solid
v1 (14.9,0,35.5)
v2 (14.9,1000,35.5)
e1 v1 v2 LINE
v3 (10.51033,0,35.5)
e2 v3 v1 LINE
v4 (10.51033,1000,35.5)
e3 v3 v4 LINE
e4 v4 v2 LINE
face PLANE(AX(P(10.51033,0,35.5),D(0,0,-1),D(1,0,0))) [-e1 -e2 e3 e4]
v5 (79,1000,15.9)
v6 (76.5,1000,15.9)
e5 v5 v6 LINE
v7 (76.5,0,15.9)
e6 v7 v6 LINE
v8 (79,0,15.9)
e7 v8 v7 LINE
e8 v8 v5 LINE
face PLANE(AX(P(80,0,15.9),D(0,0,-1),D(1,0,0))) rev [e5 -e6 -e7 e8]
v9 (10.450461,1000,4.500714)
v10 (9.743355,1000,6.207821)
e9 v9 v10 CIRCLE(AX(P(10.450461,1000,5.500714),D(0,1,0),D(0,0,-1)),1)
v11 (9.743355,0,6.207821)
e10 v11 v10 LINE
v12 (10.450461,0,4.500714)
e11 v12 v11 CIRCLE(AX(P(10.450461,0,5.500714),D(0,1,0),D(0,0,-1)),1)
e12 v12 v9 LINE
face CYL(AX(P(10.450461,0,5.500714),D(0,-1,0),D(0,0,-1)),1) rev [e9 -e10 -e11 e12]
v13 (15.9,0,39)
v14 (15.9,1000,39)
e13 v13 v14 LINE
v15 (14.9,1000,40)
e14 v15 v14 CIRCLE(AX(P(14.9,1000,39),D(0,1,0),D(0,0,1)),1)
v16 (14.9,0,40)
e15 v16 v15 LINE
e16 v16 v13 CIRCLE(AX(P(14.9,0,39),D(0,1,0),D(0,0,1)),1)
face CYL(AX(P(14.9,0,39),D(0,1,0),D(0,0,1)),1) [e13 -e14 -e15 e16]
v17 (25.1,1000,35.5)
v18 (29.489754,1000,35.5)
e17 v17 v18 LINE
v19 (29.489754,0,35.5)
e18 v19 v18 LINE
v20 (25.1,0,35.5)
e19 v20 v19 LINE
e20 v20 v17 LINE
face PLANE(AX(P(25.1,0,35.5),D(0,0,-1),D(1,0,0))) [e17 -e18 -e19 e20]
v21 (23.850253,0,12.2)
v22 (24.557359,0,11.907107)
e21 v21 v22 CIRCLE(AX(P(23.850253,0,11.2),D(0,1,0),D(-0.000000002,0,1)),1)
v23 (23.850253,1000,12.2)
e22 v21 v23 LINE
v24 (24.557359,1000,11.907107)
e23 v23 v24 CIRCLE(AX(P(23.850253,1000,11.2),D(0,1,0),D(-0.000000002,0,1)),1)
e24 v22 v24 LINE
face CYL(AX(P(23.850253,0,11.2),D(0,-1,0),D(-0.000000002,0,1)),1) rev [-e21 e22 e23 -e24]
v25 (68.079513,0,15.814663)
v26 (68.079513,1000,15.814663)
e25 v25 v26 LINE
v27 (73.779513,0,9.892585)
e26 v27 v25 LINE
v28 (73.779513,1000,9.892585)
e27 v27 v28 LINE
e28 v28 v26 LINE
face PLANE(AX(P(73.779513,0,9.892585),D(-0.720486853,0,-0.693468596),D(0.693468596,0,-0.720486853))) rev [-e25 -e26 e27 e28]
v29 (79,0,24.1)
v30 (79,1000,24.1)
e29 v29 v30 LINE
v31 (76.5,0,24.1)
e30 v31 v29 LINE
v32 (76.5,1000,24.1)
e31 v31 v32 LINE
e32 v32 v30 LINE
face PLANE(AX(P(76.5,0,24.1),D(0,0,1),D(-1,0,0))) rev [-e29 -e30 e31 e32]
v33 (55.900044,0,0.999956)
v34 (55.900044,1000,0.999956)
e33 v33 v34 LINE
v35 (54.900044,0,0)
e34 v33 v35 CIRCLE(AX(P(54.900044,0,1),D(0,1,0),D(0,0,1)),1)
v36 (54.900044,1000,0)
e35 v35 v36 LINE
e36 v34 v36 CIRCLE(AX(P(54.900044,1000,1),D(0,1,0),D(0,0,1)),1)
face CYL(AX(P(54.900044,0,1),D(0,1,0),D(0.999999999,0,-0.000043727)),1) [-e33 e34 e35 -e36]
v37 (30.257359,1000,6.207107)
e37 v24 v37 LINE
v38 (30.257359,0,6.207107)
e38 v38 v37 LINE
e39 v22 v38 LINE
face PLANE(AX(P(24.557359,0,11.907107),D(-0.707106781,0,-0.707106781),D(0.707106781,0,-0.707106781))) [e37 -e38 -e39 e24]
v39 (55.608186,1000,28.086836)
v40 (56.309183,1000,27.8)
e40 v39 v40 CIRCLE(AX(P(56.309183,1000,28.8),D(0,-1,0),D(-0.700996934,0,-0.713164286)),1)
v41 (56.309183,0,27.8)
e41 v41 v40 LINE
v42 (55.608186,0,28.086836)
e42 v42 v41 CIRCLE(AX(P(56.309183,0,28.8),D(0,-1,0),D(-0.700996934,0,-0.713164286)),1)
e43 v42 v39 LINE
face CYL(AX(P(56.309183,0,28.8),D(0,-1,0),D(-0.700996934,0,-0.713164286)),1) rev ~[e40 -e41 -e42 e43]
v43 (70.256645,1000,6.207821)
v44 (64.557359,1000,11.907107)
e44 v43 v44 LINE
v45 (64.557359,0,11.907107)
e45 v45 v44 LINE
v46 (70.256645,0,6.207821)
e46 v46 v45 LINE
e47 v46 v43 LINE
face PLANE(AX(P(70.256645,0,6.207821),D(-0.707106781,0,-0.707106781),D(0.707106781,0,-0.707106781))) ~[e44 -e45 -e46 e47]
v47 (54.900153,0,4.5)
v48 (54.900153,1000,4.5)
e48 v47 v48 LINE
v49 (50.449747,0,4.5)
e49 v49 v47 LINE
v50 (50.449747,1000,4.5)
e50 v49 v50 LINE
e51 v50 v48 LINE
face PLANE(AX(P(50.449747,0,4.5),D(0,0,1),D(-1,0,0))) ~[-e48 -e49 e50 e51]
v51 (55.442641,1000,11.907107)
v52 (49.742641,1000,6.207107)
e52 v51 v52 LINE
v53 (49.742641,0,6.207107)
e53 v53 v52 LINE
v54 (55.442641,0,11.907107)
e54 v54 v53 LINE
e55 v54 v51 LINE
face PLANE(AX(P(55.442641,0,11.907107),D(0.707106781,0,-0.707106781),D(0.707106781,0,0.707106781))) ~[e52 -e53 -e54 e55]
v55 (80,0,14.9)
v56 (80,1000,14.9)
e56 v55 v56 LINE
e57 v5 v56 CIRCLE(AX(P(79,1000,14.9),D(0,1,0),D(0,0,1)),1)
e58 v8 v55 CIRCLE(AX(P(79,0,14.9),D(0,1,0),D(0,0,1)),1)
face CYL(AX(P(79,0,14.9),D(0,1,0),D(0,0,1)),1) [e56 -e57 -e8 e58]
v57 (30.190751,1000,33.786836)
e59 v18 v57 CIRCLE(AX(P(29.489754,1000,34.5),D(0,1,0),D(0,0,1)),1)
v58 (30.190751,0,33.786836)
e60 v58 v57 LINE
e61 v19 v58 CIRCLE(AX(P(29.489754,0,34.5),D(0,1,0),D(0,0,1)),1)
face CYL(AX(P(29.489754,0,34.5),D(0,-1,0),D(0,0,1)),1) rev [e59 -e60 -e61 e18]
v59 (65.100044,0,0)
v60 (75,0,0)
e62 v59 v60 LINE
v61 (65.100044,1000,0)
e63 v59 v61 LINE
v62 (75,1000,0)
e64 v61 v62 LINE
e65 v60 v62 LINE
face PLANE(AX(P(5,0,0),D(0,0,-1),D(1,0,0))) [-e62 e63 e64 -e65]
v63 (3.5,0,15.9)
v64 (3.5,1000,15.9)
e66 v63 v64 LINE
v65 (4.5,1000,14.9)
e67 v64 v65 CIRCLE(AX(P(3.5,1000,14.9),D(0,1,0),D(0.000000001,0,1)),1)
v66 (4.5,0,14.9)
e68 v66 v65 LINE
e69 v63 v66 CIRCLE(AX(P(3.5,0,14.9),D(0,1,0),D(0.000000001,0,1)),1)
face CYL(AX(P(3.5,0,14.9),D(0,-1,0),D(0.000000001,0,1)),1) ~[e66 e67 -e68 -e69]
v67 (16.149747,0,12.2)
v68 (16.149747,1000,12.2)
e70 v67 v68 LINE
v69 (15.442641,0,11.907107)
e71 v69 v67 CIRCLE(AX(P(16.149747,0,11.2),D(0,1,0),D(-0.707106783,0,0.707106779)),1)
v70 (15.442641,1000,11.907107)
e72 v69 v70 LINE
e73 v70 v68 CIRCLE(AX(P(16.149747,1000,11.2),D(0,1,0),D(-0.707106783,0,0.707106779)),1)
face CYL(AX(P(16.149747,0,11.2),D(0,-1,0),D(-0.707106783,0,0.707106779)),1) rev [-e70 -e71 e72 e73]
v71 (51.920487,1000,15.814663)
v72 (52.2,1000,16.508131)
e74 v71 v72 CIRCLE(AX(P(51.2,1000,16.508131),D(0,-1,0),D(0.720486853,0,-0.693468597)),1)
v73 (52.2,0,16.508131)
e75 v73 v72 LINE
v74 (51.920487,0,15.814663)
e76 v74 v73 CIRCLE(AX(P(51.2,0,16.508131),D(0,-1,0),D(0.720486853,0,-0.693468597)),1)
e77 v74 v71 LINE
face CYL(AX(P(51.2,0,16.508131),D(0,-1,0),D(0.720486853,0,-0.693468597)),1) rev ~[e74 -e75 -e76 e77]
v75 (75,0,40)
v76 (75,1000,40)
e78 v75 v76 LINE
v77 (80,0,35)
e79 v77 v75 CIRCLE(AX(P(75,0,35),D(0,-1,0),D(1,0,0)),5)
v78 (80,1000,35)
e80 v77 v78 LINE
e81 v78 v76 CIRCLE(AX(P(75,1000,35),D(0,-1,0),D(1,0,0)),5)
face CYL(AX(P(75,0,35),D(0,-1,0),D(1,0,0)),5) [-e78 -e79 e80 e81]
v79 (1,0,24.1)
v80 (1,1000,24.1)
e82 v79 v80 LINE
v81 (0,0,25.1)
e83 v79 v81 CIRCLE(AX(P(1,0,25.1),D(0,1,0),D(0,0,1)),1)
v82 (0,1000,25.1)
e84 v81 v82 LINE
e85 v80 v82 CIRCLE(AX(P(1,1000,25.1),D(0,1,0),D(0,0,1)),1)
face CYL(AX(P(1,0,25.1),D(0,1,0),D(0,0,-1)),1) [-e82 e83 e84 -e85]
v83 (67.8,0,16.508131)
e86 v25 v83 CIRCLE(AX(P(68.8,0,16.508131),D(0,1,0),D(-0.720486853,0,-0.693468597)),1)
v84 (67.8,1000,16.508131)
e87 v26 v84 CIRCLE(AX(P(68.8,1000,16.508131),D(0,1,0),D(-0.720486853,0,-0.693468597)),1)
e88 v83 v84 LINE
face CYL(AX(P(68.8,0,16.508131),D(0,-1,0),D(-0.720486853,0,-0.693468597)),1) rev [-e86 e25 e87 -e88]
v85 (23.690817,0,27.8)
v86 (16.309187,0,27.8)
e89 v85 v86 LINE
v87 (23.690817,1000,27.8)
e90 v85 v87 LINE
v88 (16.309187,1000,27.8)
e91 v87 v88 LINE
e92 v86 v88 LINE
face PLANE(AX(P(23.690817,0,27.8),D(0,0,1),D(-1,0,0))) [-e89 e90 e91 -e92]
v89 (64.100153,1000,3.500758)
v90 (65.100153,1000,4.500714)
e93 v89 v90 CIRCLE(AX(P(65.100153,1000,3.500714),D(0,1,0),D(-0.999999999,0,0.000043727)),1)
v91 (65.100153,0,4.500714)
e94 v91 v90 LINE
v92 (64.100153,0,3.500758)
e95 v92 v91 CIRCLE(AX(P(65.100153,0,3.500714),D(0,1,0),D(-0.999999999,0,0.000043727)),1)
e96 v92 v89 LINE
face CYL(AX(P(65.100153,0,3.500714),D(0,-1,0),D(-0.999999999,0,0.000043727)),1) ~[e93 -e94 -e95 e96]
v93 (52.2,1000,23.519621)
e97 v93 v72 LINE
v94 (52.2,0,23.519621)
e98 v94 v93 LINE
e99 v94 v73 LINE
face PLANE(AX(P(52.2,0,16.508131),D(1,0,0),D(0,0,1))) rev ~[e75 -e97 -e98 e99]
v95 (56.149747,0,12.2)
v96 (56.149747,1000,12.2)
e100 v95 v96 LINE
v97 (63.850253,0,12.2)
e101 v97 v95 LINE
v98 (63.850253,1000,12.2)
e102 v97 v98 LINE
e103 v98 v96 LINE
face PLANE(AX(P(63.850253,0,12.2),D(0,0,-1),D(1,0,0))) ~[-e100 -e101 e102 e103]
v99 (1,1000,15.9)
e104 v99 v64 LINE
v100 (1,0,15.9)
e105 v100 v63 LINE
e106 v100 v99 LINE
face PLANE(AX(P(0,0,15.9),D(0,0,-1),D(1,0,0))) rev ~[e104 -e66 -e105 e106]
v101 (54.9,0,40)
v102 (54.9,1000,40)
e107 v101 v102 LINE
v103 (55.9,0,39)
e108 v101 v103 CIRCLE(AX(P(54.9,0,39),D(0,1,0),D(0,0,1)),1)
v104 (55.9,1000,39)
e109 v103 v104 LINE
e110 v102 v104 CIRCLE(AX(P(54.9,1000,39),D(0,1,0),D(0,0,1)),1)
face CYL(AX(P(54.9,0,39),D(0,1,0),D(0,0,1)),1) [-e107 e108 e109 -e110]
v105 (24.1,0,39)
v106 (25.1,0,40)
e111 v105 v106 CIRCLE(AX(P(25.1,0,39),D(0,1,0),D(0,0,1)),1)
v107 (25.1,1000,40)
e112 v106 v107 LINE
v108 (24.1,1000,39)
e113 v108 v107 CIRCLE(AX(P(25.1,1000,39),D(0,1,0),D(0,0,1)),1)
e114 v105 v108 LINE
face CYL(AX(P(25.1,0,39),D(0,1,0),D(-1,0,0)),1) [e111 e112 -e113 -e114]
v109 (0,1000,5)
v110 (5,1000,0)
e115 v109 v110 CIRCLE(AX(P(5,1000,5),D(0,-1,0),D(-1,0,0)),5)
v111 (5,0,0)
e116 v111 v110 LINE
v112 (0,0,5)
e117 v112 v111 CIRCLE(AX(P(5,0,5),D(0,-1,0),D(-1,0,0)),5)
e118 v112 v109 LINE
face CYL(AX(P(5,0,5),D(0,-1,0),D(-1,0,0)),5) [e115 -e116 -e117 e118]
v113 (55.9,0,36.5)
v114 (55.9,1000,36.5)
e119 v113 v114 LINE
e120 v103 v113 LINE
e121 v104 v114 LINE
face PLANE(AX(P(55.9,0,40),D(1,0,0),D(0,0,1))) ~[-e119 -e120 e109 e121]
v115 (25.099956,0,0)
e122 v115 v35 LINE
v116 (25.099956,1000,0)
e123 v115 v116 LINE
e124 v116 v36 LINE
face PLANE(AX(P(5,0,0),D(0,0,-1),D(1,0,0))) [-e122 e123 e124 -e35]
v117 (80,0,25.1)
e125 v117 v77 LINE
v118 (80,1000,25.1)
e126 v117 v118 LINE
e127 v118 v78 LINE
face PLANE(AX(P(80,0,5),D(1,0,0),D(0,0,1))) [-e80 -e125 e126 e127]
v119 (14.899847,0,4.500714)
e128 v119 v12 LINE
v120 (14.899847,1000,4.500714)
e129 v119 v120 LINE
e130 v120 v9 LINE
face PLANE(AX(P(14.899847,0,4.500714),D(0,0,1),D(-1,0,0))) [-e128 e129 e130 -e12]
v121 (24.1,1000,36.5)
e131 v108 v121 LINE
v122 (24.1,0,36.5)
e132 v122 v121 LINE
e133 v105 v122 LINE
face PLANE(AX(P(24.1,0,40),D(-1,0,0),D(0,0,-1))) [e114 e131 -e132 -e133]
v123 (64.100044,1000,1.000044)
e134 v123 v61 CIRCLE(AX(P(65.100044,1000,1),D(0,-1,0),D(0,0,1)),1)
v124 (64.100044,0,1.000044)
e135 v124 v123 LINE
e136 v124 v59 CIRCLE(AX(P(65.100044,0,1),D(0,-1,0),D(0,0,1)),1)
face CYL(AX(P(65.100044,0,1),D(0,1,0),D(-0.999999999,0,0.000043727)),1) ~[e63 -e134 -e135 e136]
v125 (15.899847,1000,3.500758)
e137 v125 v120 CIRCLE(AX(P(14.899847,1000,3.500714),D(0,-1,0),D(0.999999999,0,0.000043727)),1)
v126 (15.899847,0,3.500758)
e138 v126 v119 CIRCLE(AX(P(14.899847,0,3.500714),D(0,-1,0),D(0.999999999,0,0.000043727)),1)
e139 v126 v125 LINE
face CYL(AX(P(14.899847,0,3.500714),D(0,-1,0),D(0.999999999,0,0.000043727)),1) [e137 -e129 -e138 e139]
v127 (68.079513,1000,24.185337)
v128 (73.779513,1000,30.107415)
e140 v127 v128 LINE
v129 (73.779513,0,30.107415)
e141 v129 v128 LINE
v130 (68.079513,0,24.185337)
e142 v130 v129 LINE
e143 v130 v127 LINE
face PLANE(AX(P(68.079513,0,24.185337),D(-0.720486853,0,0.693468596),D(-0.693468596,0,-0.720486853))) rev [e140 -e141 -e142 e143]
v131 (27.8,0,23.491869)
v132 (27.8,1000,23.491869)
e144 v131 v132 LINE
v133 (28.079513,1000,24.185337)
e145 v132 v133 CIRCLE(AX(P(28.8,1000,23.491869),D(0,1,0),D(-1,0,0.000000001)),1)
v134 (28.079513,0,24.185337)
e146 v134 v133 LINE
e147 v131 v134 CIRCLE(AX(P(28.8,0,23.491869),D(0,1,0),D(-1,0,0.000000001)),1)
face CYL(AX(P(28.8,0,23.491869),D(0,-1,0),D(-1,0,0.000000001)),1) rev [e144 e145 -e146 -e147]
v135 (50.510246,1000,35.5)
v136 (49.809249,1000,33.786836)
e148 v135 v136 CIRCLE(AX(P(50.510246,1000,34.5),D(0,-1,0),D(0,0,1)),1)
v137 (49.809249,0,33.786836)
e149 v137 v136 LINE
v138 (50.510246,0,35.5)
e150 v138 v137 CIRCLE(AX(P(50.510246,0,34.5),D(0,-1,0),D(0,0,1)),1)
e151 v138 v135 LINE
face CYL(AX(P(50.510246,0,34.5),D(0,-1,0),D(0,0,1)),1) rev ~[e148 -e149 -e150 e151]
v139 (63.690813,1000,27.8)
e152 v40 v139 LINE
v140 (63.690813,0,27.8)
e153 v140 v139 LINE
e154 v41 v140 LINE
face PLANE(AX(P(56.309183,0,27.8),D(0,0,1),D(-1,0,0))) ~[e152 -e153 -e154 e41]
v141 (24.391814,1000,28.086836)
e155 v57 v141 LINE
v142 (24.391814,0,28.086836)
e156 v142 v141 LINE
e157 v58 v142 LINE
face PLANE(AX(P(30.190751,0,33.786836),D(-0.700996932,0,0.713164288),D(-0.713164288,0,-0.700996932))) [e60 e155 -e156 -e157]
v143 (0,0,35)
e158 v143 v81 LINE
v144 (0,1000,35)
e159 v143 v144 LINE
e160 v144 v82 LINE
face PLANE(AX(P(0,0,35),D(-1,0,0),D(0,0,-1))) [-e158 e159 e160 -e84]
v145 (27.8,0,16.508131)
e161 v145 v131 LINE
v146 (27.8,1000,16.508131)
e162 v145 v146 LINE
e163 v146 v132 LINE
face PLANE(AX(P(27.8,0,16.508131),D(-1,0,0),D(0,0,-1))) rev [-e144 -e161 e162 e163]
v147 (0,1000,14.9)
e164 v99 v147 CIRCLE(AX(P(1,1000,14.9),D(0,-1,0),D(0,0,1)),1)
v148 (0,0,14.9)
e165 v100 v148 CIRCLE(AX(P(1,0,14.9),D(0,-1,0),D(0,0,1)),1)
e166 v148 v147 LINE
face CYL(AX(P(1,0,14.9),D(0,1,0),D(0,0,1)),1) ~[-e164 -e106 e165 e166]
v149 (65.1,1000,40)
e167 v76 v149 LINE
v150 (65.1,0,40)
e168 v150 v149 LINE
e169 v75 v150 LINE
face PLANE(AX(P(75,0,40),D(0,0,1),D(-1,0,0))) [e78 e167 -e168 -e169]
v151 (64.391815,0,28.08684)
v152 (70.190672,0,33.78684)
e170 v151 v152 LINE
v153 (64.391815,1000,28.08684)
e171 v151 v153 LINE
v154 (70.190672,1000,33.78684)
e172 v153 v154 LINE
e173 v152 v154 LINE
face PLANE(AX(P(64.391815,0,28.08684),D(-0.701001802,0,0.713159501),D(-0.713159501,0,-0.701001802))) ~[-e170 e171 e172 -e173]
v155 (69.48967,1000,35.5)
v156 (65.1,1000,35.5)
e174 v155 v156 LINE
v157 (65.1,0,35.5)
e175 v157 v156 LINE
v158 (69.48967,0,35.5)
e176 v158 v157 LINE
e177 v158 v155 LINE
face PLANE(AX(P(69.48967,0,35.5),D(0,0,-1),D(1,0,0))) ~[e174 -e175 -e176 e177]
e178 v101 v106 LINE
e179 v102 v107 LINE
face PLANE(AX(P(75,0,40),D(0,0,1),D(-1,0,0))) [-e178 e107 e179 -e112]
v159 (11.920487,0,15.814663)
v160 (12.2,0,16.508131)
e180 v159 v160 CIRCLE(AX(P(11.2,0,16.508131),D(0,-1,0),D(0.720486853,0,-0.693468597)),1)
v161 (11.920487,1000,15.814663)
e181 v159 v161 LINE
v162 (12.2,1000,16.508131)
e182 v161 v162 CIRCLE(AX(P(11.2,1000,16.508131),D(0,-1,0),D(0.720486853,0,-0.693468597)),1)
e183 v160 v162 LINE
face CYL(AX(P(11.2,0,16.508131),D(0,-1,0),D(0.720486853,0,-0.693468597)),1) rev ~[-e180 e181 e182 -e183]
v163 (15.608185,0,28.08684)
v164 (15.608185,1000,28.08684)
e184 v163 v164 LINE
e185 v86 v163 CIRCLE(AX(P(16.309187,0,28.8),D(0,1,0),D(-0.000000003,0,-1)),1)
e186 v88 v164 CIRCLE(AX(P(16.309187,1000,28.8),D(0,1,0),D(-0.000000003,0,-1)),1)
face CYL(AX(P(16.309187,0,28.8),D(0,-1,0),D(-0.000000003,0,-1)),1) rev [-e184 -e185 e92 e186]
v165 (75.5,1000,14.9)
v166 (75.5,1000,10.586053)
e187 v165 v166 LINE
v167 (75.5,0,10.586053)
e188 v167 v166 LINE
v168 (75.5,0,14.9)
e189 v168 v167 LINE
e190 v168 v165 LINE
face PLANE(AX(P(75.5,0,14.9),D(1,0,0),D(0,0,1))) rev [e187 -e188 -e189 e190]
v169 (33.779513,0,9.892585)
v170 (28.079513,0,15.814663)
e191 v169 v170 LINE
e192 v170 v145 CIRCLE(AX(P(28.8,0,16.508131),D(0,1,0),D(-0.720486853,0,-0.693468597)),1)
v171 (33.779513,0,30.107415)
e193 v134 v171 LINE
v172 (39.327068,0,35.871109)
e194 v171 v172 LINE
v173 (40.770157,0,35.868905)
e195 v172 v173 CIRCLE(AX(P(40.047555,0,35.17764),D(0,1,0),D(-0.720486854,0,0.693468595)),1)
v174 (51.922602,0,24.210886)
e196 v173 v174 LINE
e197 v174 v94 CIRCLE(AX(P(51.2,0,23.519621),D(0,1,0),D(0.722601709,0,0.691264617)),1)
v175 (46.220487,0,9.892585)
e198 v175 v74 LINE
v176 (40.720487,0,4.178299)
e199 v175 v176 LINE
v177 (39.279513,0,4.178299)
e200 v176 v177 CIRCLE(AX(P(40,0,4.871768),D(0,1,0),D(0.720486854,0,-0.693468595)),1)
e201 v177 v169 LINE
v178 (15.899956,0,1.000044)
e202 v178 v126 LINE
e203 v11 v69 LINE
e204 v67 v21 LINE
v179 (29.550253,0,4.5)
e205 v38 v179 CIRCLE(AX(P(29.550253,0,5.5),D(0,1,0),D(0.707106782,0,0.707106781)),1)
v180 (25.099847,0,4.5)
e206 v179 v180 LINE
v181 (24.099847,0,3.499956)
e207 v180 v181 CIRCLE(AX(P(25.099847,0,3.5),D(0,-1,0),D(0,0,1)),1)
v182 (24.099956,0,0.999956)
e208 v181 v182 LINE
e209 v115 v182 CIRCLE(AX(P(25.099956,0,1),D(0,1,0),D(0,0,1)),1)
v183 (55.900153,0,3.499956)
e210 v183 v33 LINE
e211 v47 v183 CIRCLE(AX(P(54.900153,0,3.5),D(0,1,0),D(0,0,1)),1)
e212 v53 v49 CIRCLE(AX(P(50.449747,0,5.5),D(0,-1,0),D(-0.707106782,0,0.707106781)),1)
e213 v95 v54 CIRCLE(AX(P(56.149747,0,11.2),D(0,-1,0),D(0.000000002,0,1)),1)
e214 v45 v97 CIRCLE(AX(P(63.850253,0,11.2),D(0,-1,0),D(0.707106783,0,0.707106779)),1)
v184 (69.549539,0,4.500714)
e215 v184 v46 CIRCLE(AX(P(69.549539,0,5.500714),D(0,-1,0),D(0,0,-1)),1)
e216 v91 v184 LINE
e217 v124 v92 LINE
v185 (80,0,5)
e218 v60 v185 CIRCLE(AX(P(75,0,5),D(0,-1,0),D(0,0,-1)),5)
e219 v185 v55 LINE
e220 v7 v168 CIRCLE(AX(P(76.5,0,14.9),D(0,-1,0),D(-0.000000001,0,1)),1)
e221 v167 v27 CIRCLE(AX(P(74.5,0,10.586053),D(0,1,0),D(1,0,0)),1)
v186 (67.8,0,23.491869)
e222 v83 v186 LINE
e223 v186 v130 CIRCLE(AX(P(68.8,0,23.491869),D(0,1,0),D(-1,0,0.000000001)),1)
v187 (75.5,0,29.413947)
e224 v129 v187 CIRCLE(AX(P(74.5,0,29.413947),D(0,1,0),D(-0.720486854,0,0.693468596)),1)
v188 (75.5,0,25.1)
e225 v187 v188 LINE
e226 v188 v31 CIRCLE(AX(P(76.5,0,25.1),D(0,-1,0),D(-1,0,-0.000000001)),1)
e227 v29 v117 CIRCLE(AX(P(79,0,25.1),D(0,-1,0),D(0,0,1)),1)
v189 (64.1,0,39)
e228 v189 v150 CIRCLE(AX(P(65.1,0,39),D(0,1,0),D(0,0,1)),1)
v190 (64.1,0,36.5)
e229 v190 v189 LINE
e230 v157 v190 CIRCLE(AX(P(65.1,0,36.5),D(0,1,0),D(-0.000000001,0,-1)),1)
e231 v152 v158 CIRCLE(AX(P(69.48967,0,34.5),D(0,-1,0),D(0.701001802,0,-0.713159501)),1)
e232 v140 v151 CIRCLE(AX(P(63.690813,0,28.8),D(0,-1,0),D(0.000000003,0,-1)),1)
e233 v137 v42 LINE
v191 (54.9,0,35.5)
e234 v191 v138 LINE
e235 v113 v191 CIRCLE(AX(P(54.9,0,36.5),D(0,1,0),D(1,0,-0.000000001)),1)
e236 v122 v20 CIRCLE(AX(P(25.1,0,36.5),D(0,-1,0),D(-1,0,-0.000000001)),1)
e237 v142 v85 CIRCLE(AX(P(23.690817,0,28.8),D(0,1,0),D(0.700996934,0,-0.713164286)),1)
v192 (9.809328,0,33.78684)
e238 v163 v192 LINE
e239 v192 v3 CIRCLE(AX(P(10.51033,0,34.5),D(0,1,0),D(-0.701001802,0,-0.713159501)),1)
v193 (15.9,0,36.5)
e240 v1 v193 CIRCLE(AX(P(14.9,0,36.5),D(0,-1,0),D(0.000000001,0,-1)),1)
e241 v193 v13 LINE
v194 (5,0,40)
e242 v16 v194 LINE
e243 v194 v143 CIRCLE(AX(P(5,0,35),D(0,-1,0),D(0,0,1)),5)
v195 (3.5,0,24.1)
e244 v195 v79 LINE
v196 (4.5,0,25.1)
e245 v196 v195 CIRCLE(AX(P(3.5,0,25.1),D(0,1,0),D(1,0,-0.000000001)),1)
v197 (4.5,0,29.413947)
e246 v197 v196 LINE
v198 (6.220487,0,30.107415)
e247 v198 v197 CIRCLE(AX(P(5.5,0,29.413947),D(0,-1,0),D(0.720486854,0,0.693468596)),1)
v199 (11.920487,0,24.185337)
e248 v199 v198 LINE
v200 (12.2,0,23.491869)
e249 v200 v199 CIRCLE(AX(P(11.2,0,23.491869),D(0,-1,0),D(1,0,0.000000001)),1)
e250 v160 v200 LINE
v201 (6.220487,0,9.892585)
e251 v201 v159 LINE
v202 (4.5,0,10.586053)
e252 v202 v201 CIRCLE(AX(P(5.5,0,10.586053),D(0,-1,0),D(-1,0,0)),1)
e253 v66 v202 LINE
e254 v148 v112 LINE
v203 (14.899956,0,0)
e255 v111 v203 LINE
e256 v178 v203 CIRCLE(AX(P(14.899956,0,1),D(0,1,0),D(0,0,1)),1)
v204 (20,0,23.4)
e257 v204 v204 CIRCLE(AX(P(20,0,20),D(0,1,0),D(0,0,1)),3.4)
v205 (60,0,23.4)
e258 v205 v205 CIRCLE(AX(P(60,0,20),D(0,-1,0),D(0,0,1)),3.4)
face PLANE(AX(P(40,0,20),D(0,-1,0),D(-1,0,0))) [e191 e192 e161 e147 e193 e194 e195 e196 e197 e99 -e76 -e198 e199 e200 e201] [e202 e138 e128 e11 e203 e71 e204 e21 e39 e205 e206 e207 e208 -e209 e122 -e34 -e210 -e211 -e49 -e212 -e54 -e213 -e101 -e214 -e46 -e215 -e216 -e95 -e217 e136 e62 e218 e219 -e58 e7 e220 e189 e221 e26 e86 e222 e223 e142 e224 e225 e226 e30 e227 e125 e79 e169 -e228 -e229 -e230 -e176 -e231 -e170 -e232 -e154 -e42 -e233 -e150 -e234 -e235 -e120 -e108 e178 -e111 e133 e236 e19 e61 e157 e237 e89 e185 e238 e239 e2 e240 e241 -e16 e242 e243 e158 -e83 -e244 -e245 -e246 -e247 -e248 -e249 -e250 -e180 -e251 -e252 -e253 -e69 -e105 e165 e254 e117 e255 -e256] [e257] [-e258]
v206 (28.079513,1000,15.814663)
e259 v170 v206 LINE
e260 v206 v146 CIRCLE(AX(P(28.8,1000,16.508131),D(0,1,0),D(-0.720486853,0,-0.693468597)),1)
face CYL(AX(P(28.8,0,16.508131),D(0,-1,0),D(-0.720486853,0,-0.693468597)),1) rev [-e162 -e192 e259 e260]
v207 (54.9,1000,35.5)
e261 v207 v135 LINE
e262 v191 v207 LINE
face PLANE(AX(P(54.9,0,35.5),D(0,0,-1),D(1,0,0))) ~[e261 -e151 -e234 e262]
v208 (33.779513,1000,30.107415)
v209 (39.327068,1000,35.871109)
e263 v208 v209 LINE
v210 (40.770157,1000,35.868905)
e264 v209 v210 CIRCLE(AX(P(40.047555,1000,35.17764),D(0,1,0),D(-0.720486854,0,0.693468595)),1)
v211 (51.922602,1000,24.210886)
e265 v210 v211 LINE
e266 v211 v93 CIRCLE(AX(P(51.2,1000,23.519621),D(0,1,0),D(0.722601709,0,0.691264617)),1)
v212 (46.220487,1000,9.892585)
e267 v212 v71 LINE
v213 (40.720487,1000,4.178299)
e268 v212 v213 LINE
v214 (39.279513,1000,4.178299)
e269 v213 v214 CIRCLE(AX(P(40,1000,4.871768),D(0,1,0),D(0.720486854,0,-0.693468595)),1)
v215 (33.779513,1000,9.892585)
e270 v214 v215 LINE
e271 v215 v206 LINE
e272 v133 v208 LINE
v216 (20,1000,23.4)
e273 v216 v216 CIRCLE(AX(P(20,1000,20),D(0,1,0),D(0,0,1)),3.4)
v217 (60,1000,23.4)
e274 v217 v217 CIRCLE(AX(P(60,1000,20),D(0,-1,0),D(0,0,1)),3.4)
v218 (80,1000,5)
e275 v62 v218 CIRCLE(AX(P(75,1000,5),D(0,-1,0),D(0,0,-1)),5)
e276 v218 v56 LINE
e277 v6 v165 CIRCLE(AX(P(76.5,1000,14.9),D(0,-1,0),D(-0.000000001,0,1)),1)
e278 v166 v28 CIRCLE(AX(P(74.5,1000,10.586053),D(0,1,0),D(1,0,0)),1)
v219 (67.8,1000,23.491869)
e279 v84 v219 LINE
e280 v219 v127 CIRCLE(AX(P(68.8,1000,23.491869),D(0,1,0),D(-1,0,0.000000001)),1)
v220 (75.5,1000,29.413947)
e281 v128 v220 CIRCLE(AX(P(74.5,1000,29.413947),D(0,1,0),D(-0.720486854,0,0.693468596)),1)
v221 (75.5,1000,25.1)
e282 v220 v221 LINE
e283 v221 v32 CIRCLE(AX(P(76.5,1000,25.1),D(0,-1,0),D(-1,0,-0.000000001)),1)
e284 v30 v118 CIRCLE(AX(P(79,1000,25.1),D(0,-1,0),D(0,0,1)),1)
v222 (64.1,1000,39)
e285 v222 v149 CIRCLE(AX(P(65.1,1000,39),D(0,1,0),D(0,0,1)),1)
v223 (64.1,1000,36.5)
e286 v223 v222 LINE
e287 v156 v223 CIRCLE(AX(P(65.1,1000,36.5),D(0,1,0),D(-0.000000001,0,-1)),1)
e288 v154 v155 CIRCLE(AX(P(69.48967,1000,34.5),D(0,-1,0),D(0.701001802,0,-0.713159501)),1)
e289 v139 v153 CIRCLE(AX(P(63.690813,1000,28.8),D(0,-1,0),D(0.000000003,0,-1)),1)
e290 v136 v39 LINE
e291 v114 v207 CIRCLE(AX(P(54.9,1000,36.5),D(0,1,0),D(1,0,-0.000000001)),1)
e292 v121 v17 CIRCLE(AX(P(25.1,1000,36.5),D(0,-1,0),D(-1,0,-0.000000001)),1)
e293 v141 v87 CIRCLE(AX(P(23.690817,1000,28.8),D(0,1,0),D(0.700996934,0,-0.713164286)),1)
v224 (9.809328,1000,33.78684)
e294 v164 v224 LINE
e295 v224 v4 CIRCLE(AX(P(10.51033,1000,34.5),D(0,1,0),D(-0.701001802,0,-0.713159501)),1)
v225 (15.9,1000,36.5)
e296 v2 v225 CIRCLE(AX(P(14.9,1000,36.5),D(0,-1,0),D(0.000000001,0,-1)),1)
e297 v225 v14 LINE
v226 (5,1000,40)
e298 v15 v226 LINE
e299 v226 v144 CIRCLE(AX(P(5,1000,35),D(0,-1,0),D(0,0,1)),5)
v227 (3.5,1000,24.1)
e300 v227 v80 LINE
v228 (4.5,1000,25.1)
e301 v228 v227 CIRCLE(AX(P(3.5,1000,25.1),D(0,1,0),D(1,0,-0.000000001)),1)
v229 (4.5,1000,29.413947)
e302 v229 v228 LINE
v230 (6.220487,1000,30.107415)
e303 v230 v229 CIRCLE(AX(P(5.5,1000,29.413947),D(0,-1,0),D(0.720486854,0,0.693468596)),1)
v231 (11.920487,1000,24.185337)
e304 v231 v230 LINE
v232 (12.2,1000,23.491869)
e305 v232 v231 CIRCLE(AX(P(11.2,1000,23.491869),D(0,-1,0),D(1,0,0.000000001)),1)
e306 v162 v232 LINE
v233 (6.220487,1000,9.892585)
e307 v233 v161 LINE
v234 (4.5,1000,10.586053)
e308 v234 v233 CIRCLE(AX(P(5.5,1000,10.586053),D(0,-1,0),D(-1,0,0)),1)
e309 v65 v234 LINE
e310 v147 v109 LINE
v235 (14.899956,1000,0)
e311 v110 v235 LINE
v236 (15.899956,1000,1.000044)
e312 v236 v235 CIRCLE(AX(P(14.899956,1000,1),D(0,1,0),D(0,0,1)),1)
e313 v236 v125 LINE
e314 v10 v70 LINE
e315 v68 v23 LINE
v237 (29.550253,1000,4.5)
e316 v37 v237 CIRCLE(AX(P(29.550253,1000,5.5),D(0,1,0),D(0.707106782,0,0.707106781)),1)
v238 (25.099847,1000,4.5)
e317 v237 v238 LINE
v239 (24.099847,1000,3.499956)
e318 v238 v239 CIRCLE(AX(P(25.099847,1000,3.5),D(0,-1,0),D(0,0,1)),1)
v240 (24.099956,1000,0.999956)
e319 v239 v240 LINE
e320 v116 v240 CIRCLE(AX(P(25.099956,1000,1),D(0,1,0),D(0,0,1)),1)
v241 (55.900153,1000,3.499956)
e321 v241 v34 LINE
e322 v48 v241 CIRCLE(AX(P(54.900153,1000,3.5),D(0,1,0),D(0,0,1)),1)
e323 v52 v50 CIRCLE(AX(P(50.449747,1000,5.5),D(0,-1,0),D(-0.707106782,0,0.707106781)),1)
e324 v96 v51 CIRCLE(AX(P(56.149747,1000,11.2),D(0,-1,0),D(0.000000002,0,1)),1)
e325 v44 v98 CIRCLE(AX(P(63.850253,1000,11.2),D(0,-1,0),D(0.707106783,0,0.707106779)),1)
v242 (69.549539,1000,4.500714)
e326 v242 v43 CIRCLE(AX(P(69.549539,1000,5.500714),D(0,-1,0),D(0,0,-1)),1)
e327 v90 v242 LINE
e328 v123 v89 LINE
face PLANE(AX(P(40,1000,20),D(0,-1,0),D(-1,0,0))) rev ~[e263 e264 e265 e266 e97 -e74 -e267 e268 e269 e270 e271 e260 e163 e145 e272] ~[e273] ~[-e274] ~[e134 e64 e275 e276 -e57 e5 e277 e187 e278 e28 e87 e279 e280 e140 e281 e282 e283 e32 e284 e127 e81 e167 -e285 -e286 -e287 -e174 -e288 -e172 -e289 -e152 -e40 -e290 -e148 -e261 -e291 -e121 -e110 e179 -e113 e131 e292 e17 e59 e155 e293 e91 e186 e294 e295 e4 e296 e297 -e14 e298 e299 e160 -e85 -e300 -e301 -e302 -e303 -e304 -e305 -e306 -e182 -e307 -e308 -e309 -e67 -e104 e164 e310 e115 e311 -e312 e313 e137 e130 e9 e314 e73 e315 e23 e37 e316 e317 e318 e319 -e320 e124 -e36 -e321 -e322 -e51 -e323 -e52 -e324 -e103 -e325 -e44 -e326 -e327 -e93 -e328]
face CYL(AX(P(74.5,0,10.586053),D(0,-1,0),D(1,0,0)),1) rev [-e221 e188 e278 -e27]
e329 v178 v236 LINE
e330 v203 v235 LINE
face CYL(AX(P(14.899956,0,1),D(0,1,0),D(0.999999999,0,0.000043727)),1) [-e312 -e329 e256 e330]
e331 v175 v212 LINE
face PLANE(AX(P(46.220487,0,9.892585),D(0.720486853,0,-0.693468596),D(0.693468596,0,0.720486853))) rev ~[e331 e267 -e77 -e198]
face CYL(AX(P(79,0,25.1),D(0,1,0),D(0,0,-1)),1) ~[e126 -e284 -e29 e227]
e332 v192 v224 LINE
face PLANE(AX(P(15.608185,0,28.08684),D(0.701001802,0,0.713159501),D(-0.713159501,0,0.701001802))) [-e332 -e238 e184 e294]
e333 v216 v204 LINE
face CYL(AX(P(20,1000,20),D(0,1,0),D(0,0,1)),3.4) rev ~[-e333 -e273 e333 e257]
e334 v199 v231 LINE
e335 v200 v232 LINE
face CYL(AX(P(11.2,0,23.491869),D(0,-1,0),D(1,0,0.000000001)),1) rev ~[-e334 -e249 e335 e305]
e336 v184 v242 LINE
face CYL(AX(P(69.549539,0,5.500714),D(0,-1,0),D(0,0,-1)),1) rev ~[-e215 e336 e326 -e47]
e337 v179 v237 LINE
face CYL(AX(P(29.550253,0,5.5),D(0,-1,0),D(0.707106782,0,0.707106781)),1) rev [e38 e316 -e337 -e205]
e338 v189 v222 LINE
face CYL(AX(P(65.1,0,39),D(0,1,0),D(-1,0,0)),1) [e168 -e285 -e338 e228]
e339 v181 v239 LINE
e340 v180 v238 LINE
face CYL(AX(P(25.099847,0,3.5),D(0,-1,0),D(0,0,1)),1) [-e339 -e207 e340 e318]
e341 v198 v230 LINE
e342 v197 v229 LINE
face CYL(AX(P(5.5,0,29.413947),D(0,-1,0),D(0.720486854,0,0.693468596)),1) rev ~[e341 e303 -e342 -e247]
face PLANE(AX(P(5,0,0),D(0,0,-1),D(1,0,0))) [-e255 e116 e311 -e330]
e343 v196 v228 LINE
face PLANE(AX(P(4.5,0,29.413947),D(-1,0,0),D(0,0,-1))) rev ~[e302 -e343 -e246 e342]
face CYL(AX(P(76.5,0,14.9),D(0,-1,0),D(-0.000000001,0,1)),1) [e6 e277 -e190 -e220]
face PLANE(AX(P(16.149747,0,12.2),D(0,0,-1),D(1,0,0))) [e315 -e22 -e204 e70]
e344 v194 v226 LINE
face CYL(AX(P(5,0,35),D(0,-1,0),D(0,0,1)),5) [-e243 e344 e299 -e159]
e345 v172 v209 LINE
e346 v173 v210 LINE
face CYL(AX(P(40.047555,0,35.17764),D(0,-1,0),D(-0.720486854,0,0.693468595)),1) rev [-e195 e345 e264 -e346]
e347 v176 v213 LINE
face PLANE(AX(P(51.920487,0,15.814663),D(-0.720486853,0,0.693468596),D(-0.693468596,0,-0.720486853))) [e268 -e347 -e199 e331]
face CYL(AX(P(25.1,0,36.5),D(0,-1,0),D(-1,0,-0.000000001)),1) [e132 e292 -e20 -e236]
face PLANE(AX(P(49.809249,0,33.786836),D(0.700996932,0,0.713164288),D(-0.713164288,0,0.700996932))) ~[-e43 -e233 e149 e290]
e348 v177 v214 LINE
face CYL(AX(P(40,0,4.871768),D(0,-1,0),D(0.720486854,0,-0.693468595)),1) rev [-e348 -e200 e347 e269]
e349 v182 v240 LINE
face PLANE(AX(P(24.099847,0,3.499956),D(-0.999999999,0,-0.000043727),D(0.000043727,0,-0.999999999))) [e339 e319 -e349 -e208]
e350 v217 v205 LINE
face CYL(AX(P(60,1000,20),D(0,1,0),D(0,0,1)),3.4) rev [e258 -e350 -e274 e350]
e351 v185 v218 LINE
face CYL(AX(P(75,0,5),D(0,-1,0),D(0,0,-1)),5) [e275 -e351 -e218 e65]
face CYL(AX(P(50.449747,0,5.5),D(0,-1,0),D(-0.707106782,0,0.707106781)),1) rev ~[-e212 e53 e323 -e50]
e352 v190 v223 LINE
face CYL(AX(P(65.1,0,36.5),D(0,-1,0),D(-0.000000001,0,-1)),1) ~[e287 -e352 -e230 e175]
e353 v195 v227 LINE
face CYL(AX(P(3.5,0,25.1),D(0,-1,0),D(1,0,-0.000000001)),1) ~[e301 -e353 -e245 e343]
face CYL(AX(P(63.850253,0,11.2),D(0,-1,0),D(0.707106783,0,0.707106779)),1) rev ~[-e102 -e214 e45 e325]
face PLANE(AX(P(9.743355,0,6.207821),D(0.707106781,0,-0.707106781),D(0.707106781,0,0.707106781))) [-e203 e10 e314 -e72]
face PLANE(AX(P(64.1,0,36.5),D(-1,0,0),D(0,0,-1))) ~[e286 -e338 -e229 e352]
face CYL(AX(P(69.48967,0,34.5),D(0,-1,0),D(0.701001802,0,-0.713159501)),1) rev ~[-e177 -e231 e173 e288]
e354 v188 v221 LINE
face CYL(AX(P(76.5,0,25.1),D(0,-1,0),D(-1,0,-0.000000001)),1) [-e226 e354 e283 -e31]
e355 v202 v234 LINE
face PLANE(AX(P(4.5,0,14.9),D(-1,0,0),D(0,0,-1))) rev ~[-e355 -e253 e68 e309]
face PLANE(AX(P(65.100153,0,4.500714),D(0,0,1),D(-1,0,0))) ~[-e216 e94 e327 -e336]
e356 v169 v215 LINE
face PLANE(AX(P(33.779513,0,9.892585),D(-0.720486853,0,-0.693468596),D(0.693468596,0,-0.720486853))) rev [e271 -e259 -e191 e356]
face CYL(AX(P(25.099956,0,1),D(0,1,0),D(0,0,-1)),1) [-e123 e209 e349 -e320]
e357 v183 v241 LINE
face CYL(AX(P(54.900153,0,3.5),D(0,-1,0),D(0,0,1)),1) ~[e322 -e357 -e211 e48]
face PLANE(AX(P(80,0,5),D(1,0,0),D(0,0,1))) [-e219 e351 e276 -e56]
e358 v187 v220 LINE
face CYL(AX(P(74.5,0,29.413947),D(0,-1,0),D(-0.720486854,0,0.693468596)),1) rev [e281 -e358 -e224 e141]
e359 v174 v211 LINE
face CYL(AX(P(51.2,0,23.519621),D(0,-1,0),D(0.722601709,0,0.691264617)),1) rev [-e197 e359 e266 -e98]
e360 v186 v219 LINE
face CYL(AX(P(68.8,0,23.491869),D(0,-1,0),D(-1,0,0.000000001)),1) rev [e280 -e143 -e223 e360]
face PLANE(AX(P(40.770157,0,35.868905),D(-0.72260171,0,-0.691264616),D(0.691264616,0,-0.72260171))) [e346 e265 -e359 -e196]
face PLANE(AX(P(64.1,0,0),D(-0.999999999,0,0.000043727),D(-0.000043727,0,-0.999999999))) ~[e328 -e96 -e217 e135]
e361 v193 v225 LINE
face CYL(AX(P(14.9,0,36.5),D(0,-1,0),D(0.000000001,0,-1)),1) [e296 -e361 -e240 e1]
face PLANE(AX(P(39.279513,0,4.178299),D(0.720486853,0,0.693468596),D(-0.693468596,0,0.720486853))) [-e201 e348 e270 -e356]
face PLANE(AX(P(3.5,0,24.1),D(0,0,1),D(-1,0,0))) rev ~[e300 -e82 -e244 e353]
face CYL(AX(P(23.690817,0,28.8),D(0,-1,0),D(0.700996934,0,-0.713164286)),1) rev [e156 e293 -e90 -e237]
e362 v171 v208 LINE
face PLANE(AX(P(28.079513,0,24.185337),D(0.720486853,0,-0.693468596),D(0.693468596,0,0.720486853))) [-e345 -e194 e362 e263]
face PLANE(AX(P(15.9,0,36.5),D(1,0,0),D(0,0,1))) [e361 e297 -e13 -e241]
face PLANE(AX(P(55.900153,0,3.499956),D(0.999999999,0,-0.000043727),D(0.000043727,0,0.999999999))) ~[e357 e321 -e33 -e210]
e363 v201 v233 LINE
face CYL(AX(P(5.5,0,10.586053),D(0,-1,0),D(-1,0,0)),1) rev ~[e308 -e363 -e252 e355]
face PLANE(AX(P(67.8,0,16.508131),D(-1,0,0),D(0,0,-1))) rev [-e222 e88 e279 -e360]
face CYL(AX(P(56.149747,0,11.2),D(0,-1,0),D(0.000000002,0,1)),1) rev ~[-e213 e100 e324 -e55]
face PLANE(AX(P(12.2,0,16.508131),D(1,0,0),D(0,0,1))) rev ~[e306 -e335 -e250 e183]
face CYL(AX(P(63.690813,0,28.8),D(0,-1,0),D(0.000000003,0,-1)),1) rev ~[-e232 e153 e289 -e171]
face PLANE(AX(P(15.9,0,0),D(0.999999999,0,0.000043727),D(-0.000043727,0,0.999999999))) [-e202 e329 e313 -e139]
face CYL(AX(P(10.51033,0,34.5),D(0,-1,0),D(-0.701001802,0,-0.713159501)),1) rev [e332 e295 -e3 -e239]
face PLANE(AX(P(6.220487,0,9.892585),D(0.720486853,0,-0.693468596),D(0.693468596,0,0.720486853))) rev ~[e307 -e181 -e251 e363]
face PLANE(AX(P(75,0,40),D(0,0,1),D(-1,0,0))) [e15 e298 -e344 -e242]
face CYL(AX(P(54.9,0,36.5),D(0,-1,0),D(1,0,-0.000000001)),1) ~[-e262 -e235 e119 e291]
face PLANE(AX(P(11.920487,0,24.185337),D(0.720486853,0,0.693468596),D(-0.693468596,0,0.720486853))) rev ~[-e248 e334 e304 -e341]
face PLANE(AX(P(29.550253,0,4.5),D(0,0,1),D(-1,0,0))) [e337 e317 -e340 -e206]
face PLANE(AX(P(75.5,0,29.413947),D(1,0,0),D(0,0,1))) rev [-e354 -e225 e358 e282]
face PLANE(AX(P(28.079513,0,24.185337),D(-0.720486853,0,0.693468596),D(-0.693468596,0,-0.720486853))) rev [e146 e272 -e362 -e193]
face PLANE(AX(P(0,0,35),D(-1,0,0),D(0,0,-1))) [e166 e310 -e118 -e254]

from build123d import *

# Parameters (mm, degrees)
BOSS_EXTRUDE1_DEPTH   = 1000
SKETCH3_R             = 3.4
CUT_EXTRUDE1_DEPTH    = 1000
CUT_EXTRUDE2_DEPTH    = 1000
FILLET1_R             = 1
FILLET2_R             = 1
FILLET3_R             = 1
CUT_EXTRUDE3_DEPTH    = 1000
CUT_EXTRUDE4_DEPTH    = 1000
FILLET4_R             = 1
FILLET5_R             = 1
FILLET6_R             = 1
FILLET7_R             = 1
FILLET8_R             = 1
FILLET9_R             = 1
FILLET10_R            = 1
FILLET11_R            = 1
MIRROR11_COPY_1_DEPTH = 1000
MIRROR11_COPY_2_DEPTH = 1000
CUT_EXTRUDE5_DEPTH    = 1000


with BuildPart() as part:
    # Sketch1 → Boss-Extrude1 (new body)
    with BuildSketch(Plane(origin=(0, 0, 0), x_dir=(1, 0, 0), z_dir=(0, 1, 0))):
        with BuildLine():
            Line((5, 0), (75, 0))
            ThreePointArc((75, 0), (78.535533906, -1.464466094), (80, -5))
            Line((80, -5), (80, -35))
            ThreePointArc((80, -35), (78.535533906, -38.535533906), (75, -40))
            Line((75, -40), (5, -40))
            ThreePointArc((5, -40), (1.464466094, -38.535533906), (0, -35))
            Line((0, -35), (0, -5))
            ThreePointArc((0, -5), (1.464466094, -1.464466094), (5, 0))
        make_face()
    extrude(amount=BOSS_EXTRUDE1_DEPTH)

    # Sketch3 → Cut-Extrude1 (cut)
    with BuildSketch(Plane(origin=(0, 1000, 0), x_dir=(1, 0, 0), z_dir=(0, 1, 0))):
        with Locations(Location((20, -20, 0), (0, 0, 270))):
            Circle(SKETCH3_R)
    cut_extrude1 = extrude(amount=-CUT_EXTRUDE1_DEPTH, mode=Mode.SUBTRACT)

    # Mirror3: Cut-Extrude1 across plane
    add(cut_extrude1.mirror(Plane(origin=(40, 0, 0), x_dir=(0, 0, 1), z_dir=(1, 0, 0))), mode=Mode.SUBTRACT)

    # Sketch7 → Cut-Extrude2 (cut)
    with BuildSketch(Plane(origin=(0, 0, 0), x_dir=(-1, 0, 0), z_dir=(0, -1, 0))):
        with BuildLine():
            Line((-15.9, -40), (-24.1, -40))
            Line((-24.1, -40), (-24.1, -36.5))
            ThreePointArc((-24.1, -36.5), (-24.392893219, -35.792893219), (-25.1, -35.5))
            Line((-25.1, -35.5), (-29.489753594, -35.5))
            ThreePointArc((-29.489753594, -35.5), (-30.415270825, -34.8787055), (-30.190750526, -33.786835712))
            Line((-30.190750526, -33.786835712), (-24.391814382, -28.086835712))
            ThreePointArc((-24.391814382, -28.086835712), (-24.069522951, -27.874482769), (-23.69081745, -27.8))
            Line((-23.69081745, -27.8), (-16.309186536, -27.8))
            ThreePointArc((-16.309186536, -27.8), (-15.930477876, -27.874484063), (-15.608184734, -28.086840499))
            Line((-15.608184734, -28.086840499), (-9.809327805, -33.786840499))
            ThreePointArc((-9.809327805, -33.786840499), (-9.584813669, -34.87870866), (-10.510329607, -35.5))
            Line((-10.510329607, -35.5), (-14.9, -35.5))
            ThreePointArc((-14.9, -35.5), (-15.607106781, -35.792893219), (-15.9, -36.5))
            Line((-15.9, -36.5), (-15.9, -40))
        make_face()
    cut_extrude2 = extrude(amount=-CUT_EXTRUDE2_DEPTH, mode=Mode.SUBTRACT)

    # Fillet1
    fillet1_edges = [part.edges().sort_by_distance(p)[0] for p in [
        (15.9, 500, 40),
        (24.1, 500, 40),
    ]]
    fillet(fillet1_edges, radius=FILLET1_R)

    # Mirror8: Cut-Extrude2 across plane
    add(cut_extrude2.mirror(Plane(origin=(40, 0, 0), x_dir=(0, 0, 1), z_dir=(1, 0, 0))), mode=Mode.SUBTRACT)

    # Fillet2
    fillet2_edges = [part.edges().sort_by_distance(p)[0] for p in [
        (55.9, 500, 40),
    ]]
    fillet(fillet2_edges, radius=FILLET2_R)

    # Fillet3
    fillet3_edges = [part.edges().sort_by_distance(p)[0] for p in [
        (64.1, 500, 40),
    ]]
    fillet(fillet3_edges, radius=FILLET3_R)

    # Sketch9 → Cut-Extrude3 (cut)
    with BuildSketch(Plane(origin=(0, 0, 0), x_dir=(1, 0, 0), z_dir=(0, 1, 0))):
        with BuildLine():
            Line((14.899846923, -4.500713815), (10.450461284, -4.500713815))
            ThreePointArc((10.450461284, -4.500713815), (9.526581751, -5.118030383), (9.743354502, -6.207820596))
            Line((9.743354502, -6.207820596), (15.442640687, -11.907106781))
            ThreePointArc((15.442640687, -11.907106781), (15.767064036, -12.123879533), (16.149747468, -12.2))
            Line((16.149747468, -12.2), (23.850252532, -12.2))
            ThreePointArc((23.850252532, -12.2), (24.232935964, -12.123879533), (24.557359313, -11.907106781))
            Line((24.557359313, -11.907106781), (30.257359313, -6.207106781))
            ThreePointArc((30.257359313, -6.207106781), (30.474132064, -5.117316568), (29.550252532, -4.5))
            Line((29.550252532, -4.5), (25.099846964, -4.5))
            ThreePointArc((25.099846964, -4.5), (24.392724723, -4.207091321), (24.099846965, -3.499956273))
            Line((24.099846965, -3.499956273), (24.100000008, 0))
            Line((24.100000008, 0), (15.9, 0))
            Line((15.9, 0), (15.899846922, -3.500757542))
            ThreePointArc((15.899846922, -3.500757542), (15.606938244, -4.207836056), (14.899846923, -4.500713815))
        make_face()
    cut_extrude3 = extrude(amount=CUT_EXTRUDE3_DEPTH, mode=Mode.SUBTRACT)

    # Mirror9: Cut-Extrude3 across plane
    add(cut_extrude3.mirror(Plane(origin=(40, 0, 0), x_dir=(0, 0, 1), z_dir=(1, 0, 0))), mode=Mode.SUBTRACT)

    # Sketch10 → Cut-Extrude4 (cut)
    with BuildSketch(Plane(origin=(0, 0, 0), x_dir=(1, 0, 0), z_dir=(0, 1, 0))):
        with BuildLine():
            Line((4.5, -14.9), (4.5, -10.58605332))
            ThreePointArc((4.5, -10.58605332), (5.126159695, -9.658560233), (6.220486853, -9.892584724))
            Line((6.220486853, -9.892584724), (11.920486853, -15.814662646))
            ThreePointArc((11.920486853, -15.814662646), (12.127493087, -16.134290938), (12.2, -16.508131242))
            Line((12.2, -16.508131242), (12.2, -23.491868758))
            ThreePointArc((12.2, -23.491868758), (12.127493087, -23.865709062), (11.920486853, -24.185337354))
            Line((11.920486853, -24.185337354), (6.220486853, -30.107415276))
            ThreePointArc((6.220486853, -30.107415276), (5.126159695, -30.341439767), (4.5, -29.41394668))
            Line((4.5, -29.41394668), (4.5, -25.1))
            ThreePointArc((4.5, -25.1), (4.207106781, -24.392893219), (3.5, -24.1))
            Line((3.5, -24.1), (0, -24.1))
            Line((0, -24.1), (0, -15.9))
            Line((0, -15.9), (3.5, -15.9))
            ThreePointArc((3.5, -15.9), (4.207106781, -15.607106781), (4.5, -14.9))
        make_face()
    cut_extrude4 = extrude(amount=CUT_EXTRUDE4_DEPTH, mode=Mode.SUBTRACT)

    # Fillet4
    fillet4_edges = [part.edges().sort_by_distance(p)[0] for p in [
        (24.100000008, 500, 0),
    ]]
    fillet(fillet4_edges, radius=FILLET4_R)

    # Fillet5
    fillet5_edges = [part.edges().sort_by_distance(p)[0] for p in [
        (64.1, 500, 0),
    ]]
    fillet(fillet5_edges, radius=FILLET5_R)

    # Fillet6
    fillet6_edges = [part.edges().sort_by_distance(p)[0] for p in [
        (55.899999992, 500, 0),
    ]]
    fillet(fillet6_edges, radius=FILLET6_R)

    # Fillet7
    fillet7_edges = [part.edges().sort_by_distance(p)[0] for p in [
        (15.9, 500, 0),
    ]]
    fillet(fillet7_edges, radius=FILLET7_R)

    # Fillet8
    fillet8_edges = [part.edges().sort_by_distance(p)[0] for p in [
        (0, 500, 24.1),
    ]]
    fillet(fillet8_edges, radius=FILLET8_R)

    # Fillet9
    fillet9_edges = [part.edges().sort_by_distance(p)[0] for p in [
        (0, 500, 15.9),
    ]]
    fillet(fillet9_edges, radius=FILLET9_R)

    # Mirror10: Cut-Extrude4 across plane
    add(cut_extrude4.mirror(Plane(origin=(40, 0, 0), x_dir=(0, 0, 1), z_dir=(1, 0, 0))), mode=Mode.SUBTRACT)

    # Fillet10
    fillet10_edges = [part.edges().sort_by_distance(p)[0] for p in [
        (80, 500, 15.9),
    ]]
    fillet(fillet10_edges, radius=FILLET10_R)

    # Fillet11
    fillet11_edges = [part.edges().sort_by_distance(p)[0] for p in [
        (80, 500, 24.1),
    ]]
    fillet(fillet11_edges, radius=FILLET11_R)

    # Mirror11 copy 1 sketch → Mirror11 copy 1 (cut)
    with BuildSketch(Plane(origin=(40, 0, 0), x_dir=(1, 0, 0), z_dir=(0, 1, 0))):
        with BuildLine():
            Line((4.5, -14.9), (4.5, -10.58605332))
            ThreePointArc((4.5, -10.58605332), (5.126159695, -9.658560233), (6.220486853, -9.892584724))
            Line((6.220486853, -9.892584724), (11.920486853, -15.814662646))
            ThreePointArc((11.920486853, -15.814662646), (12.127493087, -16.134290938), (12.2, -16.508131242))
            Line((12.2, -16.508131242), (12.2, -23.491868758))
            ThreePointArc((12.2, -23.491868758), (12.127493087, -23.865709062), (11.920486853, -24.185337354))
            Line((11.920486853, -24.185337354), (6.220486853, -30.107415276))
            ThreePointArc((6.220486853, -30.107415276), (5.126159695, -30.341439767), (4.5, -29.41394668))
            Line((4.5, -29.41394668), (4.5, -25.1))
            ThreePointArc((4.5, -25.1), (4.207106781, -24.392893219), (3.5, -24.1))
            Line((3.5, -24.1), (0, -24.1))
            Line((0, -24.1), (0, -15.9))
            Line((0, -15.9), (3.5, -15.9))
            ThreePointArc((3.5, -15.9), (4.207106781, -15.607106781), (4.5, -14.9))
        make_face()
    extrude(amount=MIRROR11_COPY_1_DEPTH, mode=Mode.SUBTRACT)

    # Mirror11 copy 2 sketch → Mirror11 copy 2 (cut)
    with BuildSketch(Plane(origin=(120, 0, 0), x_dir=(-1, 0, 0), z_dir=(0, 1, 0))):
        with BuildLine():
            Line((4.5, 14.9), (4.5, 10.58605332))
            ThreePointArc((4.5, 10.58605332), (5.126159695, 9.658560233), (6.220486853, 9.892584724))
            Line((6.220486853, 9.892584724), (11.920486853, 15.814662646))
            ThreePointArc((11.920486853, 15.814662646), (12.127493087, 16.134290938), (12.2, 16.508131242))
            Line((12.2, 16.508131242), (12.2, 23.491868758))
            ThreePointArc((12.2, 23.491868758), (12.127493087, 23.865709062), (11.920486853, 24.185337354))
            Line((11.920486853, 24.185337354), (6.220486853, 30.107415276))
            ThreePointArc((6.220486853, 30.107415276), (5.126159695, 30.341439767), (4.5, 29.41394668))
            Line((4.5, 29.41394668), (4.5, 25.1))
            ThreePointArc((4.5, 25.1), (4.207106781, 24.392893219), (3.5, 24.1))
            Line((3.5, 24.1), (0, 24.1))
            Line((0, 24.1), (0, 15.9))
            Line((0, 15.9), (3.5, 15.9))
            ThreePointArc((3.5, 15.9), (4.207106781, 15.607106781), (4.5, 14.9))
        make_face()
    extrude(amount=MIRROR11_COPY_2_DEPTH, mode=Mode.SUBTRACT)

    # Mirror12: Cut-Extrude4 across plane
    add(cut_extrude4.mirror(Plane.ZY.offset(-20)), mode=Mode.SUBTRACT)

    # Sketch12 → Cut-Extrude5 (cut)
    with BuildSketch(Plane(origin=(0, 0, 0), x_dir=(-1, 0, 0), z_dir=(0, -1, 0))):
        with BuildLine():
            Line((-28.079513147, -24.185337354), (-39.327067998, -35.871108628))
            ThreePointArc((-39.327067998, -35.871108628), (-40.049082116, -36.177638866), (-40.770156561, -35.868904648))
            Line((-40.770156561, -35.868904648), (-51.922601709, -24.210885791))
            ThreePointArc((-51.922601709, -24.210885791), (-52.128062958, -23.892044517), (-52.2, -23.519621175))
            Line((-52.2, -23.519621175), (-52.2, -16.508131242))
            ThreePointArc((-52.2, -16.508131242), (-52.127493087, -16.134290938), (-51.920486853, -15.814662646))
            Line((-51.920486853, -15.814662646), (-40.720486853, -4.17829901))
            ThreePointArc((-40.720486853, -4.17829901), (-40, -3.871767606), (-39.279513147, -4.17829901))
            Line((-39.279513147, -4.17829901), (-28.079513147, -15.814662646))
            ThreePointArc((-28.079513147, -15.814662646), (-27.872506913, -16.134290938), (-27.8, -16.508131242))
            Line((-27.8, -16.508131242), (-27.8, -23.491868758))
            ThreePointArc((-27.8, -23.491868758), (-27.872506913, -23.865709062), (-28.079513147, -24.185337354))
        make_face()
    extrude(amount=-CUT_EXTRUDE5_DEPTH, mode=Mode.SUBTRACT)


solid = part.part
